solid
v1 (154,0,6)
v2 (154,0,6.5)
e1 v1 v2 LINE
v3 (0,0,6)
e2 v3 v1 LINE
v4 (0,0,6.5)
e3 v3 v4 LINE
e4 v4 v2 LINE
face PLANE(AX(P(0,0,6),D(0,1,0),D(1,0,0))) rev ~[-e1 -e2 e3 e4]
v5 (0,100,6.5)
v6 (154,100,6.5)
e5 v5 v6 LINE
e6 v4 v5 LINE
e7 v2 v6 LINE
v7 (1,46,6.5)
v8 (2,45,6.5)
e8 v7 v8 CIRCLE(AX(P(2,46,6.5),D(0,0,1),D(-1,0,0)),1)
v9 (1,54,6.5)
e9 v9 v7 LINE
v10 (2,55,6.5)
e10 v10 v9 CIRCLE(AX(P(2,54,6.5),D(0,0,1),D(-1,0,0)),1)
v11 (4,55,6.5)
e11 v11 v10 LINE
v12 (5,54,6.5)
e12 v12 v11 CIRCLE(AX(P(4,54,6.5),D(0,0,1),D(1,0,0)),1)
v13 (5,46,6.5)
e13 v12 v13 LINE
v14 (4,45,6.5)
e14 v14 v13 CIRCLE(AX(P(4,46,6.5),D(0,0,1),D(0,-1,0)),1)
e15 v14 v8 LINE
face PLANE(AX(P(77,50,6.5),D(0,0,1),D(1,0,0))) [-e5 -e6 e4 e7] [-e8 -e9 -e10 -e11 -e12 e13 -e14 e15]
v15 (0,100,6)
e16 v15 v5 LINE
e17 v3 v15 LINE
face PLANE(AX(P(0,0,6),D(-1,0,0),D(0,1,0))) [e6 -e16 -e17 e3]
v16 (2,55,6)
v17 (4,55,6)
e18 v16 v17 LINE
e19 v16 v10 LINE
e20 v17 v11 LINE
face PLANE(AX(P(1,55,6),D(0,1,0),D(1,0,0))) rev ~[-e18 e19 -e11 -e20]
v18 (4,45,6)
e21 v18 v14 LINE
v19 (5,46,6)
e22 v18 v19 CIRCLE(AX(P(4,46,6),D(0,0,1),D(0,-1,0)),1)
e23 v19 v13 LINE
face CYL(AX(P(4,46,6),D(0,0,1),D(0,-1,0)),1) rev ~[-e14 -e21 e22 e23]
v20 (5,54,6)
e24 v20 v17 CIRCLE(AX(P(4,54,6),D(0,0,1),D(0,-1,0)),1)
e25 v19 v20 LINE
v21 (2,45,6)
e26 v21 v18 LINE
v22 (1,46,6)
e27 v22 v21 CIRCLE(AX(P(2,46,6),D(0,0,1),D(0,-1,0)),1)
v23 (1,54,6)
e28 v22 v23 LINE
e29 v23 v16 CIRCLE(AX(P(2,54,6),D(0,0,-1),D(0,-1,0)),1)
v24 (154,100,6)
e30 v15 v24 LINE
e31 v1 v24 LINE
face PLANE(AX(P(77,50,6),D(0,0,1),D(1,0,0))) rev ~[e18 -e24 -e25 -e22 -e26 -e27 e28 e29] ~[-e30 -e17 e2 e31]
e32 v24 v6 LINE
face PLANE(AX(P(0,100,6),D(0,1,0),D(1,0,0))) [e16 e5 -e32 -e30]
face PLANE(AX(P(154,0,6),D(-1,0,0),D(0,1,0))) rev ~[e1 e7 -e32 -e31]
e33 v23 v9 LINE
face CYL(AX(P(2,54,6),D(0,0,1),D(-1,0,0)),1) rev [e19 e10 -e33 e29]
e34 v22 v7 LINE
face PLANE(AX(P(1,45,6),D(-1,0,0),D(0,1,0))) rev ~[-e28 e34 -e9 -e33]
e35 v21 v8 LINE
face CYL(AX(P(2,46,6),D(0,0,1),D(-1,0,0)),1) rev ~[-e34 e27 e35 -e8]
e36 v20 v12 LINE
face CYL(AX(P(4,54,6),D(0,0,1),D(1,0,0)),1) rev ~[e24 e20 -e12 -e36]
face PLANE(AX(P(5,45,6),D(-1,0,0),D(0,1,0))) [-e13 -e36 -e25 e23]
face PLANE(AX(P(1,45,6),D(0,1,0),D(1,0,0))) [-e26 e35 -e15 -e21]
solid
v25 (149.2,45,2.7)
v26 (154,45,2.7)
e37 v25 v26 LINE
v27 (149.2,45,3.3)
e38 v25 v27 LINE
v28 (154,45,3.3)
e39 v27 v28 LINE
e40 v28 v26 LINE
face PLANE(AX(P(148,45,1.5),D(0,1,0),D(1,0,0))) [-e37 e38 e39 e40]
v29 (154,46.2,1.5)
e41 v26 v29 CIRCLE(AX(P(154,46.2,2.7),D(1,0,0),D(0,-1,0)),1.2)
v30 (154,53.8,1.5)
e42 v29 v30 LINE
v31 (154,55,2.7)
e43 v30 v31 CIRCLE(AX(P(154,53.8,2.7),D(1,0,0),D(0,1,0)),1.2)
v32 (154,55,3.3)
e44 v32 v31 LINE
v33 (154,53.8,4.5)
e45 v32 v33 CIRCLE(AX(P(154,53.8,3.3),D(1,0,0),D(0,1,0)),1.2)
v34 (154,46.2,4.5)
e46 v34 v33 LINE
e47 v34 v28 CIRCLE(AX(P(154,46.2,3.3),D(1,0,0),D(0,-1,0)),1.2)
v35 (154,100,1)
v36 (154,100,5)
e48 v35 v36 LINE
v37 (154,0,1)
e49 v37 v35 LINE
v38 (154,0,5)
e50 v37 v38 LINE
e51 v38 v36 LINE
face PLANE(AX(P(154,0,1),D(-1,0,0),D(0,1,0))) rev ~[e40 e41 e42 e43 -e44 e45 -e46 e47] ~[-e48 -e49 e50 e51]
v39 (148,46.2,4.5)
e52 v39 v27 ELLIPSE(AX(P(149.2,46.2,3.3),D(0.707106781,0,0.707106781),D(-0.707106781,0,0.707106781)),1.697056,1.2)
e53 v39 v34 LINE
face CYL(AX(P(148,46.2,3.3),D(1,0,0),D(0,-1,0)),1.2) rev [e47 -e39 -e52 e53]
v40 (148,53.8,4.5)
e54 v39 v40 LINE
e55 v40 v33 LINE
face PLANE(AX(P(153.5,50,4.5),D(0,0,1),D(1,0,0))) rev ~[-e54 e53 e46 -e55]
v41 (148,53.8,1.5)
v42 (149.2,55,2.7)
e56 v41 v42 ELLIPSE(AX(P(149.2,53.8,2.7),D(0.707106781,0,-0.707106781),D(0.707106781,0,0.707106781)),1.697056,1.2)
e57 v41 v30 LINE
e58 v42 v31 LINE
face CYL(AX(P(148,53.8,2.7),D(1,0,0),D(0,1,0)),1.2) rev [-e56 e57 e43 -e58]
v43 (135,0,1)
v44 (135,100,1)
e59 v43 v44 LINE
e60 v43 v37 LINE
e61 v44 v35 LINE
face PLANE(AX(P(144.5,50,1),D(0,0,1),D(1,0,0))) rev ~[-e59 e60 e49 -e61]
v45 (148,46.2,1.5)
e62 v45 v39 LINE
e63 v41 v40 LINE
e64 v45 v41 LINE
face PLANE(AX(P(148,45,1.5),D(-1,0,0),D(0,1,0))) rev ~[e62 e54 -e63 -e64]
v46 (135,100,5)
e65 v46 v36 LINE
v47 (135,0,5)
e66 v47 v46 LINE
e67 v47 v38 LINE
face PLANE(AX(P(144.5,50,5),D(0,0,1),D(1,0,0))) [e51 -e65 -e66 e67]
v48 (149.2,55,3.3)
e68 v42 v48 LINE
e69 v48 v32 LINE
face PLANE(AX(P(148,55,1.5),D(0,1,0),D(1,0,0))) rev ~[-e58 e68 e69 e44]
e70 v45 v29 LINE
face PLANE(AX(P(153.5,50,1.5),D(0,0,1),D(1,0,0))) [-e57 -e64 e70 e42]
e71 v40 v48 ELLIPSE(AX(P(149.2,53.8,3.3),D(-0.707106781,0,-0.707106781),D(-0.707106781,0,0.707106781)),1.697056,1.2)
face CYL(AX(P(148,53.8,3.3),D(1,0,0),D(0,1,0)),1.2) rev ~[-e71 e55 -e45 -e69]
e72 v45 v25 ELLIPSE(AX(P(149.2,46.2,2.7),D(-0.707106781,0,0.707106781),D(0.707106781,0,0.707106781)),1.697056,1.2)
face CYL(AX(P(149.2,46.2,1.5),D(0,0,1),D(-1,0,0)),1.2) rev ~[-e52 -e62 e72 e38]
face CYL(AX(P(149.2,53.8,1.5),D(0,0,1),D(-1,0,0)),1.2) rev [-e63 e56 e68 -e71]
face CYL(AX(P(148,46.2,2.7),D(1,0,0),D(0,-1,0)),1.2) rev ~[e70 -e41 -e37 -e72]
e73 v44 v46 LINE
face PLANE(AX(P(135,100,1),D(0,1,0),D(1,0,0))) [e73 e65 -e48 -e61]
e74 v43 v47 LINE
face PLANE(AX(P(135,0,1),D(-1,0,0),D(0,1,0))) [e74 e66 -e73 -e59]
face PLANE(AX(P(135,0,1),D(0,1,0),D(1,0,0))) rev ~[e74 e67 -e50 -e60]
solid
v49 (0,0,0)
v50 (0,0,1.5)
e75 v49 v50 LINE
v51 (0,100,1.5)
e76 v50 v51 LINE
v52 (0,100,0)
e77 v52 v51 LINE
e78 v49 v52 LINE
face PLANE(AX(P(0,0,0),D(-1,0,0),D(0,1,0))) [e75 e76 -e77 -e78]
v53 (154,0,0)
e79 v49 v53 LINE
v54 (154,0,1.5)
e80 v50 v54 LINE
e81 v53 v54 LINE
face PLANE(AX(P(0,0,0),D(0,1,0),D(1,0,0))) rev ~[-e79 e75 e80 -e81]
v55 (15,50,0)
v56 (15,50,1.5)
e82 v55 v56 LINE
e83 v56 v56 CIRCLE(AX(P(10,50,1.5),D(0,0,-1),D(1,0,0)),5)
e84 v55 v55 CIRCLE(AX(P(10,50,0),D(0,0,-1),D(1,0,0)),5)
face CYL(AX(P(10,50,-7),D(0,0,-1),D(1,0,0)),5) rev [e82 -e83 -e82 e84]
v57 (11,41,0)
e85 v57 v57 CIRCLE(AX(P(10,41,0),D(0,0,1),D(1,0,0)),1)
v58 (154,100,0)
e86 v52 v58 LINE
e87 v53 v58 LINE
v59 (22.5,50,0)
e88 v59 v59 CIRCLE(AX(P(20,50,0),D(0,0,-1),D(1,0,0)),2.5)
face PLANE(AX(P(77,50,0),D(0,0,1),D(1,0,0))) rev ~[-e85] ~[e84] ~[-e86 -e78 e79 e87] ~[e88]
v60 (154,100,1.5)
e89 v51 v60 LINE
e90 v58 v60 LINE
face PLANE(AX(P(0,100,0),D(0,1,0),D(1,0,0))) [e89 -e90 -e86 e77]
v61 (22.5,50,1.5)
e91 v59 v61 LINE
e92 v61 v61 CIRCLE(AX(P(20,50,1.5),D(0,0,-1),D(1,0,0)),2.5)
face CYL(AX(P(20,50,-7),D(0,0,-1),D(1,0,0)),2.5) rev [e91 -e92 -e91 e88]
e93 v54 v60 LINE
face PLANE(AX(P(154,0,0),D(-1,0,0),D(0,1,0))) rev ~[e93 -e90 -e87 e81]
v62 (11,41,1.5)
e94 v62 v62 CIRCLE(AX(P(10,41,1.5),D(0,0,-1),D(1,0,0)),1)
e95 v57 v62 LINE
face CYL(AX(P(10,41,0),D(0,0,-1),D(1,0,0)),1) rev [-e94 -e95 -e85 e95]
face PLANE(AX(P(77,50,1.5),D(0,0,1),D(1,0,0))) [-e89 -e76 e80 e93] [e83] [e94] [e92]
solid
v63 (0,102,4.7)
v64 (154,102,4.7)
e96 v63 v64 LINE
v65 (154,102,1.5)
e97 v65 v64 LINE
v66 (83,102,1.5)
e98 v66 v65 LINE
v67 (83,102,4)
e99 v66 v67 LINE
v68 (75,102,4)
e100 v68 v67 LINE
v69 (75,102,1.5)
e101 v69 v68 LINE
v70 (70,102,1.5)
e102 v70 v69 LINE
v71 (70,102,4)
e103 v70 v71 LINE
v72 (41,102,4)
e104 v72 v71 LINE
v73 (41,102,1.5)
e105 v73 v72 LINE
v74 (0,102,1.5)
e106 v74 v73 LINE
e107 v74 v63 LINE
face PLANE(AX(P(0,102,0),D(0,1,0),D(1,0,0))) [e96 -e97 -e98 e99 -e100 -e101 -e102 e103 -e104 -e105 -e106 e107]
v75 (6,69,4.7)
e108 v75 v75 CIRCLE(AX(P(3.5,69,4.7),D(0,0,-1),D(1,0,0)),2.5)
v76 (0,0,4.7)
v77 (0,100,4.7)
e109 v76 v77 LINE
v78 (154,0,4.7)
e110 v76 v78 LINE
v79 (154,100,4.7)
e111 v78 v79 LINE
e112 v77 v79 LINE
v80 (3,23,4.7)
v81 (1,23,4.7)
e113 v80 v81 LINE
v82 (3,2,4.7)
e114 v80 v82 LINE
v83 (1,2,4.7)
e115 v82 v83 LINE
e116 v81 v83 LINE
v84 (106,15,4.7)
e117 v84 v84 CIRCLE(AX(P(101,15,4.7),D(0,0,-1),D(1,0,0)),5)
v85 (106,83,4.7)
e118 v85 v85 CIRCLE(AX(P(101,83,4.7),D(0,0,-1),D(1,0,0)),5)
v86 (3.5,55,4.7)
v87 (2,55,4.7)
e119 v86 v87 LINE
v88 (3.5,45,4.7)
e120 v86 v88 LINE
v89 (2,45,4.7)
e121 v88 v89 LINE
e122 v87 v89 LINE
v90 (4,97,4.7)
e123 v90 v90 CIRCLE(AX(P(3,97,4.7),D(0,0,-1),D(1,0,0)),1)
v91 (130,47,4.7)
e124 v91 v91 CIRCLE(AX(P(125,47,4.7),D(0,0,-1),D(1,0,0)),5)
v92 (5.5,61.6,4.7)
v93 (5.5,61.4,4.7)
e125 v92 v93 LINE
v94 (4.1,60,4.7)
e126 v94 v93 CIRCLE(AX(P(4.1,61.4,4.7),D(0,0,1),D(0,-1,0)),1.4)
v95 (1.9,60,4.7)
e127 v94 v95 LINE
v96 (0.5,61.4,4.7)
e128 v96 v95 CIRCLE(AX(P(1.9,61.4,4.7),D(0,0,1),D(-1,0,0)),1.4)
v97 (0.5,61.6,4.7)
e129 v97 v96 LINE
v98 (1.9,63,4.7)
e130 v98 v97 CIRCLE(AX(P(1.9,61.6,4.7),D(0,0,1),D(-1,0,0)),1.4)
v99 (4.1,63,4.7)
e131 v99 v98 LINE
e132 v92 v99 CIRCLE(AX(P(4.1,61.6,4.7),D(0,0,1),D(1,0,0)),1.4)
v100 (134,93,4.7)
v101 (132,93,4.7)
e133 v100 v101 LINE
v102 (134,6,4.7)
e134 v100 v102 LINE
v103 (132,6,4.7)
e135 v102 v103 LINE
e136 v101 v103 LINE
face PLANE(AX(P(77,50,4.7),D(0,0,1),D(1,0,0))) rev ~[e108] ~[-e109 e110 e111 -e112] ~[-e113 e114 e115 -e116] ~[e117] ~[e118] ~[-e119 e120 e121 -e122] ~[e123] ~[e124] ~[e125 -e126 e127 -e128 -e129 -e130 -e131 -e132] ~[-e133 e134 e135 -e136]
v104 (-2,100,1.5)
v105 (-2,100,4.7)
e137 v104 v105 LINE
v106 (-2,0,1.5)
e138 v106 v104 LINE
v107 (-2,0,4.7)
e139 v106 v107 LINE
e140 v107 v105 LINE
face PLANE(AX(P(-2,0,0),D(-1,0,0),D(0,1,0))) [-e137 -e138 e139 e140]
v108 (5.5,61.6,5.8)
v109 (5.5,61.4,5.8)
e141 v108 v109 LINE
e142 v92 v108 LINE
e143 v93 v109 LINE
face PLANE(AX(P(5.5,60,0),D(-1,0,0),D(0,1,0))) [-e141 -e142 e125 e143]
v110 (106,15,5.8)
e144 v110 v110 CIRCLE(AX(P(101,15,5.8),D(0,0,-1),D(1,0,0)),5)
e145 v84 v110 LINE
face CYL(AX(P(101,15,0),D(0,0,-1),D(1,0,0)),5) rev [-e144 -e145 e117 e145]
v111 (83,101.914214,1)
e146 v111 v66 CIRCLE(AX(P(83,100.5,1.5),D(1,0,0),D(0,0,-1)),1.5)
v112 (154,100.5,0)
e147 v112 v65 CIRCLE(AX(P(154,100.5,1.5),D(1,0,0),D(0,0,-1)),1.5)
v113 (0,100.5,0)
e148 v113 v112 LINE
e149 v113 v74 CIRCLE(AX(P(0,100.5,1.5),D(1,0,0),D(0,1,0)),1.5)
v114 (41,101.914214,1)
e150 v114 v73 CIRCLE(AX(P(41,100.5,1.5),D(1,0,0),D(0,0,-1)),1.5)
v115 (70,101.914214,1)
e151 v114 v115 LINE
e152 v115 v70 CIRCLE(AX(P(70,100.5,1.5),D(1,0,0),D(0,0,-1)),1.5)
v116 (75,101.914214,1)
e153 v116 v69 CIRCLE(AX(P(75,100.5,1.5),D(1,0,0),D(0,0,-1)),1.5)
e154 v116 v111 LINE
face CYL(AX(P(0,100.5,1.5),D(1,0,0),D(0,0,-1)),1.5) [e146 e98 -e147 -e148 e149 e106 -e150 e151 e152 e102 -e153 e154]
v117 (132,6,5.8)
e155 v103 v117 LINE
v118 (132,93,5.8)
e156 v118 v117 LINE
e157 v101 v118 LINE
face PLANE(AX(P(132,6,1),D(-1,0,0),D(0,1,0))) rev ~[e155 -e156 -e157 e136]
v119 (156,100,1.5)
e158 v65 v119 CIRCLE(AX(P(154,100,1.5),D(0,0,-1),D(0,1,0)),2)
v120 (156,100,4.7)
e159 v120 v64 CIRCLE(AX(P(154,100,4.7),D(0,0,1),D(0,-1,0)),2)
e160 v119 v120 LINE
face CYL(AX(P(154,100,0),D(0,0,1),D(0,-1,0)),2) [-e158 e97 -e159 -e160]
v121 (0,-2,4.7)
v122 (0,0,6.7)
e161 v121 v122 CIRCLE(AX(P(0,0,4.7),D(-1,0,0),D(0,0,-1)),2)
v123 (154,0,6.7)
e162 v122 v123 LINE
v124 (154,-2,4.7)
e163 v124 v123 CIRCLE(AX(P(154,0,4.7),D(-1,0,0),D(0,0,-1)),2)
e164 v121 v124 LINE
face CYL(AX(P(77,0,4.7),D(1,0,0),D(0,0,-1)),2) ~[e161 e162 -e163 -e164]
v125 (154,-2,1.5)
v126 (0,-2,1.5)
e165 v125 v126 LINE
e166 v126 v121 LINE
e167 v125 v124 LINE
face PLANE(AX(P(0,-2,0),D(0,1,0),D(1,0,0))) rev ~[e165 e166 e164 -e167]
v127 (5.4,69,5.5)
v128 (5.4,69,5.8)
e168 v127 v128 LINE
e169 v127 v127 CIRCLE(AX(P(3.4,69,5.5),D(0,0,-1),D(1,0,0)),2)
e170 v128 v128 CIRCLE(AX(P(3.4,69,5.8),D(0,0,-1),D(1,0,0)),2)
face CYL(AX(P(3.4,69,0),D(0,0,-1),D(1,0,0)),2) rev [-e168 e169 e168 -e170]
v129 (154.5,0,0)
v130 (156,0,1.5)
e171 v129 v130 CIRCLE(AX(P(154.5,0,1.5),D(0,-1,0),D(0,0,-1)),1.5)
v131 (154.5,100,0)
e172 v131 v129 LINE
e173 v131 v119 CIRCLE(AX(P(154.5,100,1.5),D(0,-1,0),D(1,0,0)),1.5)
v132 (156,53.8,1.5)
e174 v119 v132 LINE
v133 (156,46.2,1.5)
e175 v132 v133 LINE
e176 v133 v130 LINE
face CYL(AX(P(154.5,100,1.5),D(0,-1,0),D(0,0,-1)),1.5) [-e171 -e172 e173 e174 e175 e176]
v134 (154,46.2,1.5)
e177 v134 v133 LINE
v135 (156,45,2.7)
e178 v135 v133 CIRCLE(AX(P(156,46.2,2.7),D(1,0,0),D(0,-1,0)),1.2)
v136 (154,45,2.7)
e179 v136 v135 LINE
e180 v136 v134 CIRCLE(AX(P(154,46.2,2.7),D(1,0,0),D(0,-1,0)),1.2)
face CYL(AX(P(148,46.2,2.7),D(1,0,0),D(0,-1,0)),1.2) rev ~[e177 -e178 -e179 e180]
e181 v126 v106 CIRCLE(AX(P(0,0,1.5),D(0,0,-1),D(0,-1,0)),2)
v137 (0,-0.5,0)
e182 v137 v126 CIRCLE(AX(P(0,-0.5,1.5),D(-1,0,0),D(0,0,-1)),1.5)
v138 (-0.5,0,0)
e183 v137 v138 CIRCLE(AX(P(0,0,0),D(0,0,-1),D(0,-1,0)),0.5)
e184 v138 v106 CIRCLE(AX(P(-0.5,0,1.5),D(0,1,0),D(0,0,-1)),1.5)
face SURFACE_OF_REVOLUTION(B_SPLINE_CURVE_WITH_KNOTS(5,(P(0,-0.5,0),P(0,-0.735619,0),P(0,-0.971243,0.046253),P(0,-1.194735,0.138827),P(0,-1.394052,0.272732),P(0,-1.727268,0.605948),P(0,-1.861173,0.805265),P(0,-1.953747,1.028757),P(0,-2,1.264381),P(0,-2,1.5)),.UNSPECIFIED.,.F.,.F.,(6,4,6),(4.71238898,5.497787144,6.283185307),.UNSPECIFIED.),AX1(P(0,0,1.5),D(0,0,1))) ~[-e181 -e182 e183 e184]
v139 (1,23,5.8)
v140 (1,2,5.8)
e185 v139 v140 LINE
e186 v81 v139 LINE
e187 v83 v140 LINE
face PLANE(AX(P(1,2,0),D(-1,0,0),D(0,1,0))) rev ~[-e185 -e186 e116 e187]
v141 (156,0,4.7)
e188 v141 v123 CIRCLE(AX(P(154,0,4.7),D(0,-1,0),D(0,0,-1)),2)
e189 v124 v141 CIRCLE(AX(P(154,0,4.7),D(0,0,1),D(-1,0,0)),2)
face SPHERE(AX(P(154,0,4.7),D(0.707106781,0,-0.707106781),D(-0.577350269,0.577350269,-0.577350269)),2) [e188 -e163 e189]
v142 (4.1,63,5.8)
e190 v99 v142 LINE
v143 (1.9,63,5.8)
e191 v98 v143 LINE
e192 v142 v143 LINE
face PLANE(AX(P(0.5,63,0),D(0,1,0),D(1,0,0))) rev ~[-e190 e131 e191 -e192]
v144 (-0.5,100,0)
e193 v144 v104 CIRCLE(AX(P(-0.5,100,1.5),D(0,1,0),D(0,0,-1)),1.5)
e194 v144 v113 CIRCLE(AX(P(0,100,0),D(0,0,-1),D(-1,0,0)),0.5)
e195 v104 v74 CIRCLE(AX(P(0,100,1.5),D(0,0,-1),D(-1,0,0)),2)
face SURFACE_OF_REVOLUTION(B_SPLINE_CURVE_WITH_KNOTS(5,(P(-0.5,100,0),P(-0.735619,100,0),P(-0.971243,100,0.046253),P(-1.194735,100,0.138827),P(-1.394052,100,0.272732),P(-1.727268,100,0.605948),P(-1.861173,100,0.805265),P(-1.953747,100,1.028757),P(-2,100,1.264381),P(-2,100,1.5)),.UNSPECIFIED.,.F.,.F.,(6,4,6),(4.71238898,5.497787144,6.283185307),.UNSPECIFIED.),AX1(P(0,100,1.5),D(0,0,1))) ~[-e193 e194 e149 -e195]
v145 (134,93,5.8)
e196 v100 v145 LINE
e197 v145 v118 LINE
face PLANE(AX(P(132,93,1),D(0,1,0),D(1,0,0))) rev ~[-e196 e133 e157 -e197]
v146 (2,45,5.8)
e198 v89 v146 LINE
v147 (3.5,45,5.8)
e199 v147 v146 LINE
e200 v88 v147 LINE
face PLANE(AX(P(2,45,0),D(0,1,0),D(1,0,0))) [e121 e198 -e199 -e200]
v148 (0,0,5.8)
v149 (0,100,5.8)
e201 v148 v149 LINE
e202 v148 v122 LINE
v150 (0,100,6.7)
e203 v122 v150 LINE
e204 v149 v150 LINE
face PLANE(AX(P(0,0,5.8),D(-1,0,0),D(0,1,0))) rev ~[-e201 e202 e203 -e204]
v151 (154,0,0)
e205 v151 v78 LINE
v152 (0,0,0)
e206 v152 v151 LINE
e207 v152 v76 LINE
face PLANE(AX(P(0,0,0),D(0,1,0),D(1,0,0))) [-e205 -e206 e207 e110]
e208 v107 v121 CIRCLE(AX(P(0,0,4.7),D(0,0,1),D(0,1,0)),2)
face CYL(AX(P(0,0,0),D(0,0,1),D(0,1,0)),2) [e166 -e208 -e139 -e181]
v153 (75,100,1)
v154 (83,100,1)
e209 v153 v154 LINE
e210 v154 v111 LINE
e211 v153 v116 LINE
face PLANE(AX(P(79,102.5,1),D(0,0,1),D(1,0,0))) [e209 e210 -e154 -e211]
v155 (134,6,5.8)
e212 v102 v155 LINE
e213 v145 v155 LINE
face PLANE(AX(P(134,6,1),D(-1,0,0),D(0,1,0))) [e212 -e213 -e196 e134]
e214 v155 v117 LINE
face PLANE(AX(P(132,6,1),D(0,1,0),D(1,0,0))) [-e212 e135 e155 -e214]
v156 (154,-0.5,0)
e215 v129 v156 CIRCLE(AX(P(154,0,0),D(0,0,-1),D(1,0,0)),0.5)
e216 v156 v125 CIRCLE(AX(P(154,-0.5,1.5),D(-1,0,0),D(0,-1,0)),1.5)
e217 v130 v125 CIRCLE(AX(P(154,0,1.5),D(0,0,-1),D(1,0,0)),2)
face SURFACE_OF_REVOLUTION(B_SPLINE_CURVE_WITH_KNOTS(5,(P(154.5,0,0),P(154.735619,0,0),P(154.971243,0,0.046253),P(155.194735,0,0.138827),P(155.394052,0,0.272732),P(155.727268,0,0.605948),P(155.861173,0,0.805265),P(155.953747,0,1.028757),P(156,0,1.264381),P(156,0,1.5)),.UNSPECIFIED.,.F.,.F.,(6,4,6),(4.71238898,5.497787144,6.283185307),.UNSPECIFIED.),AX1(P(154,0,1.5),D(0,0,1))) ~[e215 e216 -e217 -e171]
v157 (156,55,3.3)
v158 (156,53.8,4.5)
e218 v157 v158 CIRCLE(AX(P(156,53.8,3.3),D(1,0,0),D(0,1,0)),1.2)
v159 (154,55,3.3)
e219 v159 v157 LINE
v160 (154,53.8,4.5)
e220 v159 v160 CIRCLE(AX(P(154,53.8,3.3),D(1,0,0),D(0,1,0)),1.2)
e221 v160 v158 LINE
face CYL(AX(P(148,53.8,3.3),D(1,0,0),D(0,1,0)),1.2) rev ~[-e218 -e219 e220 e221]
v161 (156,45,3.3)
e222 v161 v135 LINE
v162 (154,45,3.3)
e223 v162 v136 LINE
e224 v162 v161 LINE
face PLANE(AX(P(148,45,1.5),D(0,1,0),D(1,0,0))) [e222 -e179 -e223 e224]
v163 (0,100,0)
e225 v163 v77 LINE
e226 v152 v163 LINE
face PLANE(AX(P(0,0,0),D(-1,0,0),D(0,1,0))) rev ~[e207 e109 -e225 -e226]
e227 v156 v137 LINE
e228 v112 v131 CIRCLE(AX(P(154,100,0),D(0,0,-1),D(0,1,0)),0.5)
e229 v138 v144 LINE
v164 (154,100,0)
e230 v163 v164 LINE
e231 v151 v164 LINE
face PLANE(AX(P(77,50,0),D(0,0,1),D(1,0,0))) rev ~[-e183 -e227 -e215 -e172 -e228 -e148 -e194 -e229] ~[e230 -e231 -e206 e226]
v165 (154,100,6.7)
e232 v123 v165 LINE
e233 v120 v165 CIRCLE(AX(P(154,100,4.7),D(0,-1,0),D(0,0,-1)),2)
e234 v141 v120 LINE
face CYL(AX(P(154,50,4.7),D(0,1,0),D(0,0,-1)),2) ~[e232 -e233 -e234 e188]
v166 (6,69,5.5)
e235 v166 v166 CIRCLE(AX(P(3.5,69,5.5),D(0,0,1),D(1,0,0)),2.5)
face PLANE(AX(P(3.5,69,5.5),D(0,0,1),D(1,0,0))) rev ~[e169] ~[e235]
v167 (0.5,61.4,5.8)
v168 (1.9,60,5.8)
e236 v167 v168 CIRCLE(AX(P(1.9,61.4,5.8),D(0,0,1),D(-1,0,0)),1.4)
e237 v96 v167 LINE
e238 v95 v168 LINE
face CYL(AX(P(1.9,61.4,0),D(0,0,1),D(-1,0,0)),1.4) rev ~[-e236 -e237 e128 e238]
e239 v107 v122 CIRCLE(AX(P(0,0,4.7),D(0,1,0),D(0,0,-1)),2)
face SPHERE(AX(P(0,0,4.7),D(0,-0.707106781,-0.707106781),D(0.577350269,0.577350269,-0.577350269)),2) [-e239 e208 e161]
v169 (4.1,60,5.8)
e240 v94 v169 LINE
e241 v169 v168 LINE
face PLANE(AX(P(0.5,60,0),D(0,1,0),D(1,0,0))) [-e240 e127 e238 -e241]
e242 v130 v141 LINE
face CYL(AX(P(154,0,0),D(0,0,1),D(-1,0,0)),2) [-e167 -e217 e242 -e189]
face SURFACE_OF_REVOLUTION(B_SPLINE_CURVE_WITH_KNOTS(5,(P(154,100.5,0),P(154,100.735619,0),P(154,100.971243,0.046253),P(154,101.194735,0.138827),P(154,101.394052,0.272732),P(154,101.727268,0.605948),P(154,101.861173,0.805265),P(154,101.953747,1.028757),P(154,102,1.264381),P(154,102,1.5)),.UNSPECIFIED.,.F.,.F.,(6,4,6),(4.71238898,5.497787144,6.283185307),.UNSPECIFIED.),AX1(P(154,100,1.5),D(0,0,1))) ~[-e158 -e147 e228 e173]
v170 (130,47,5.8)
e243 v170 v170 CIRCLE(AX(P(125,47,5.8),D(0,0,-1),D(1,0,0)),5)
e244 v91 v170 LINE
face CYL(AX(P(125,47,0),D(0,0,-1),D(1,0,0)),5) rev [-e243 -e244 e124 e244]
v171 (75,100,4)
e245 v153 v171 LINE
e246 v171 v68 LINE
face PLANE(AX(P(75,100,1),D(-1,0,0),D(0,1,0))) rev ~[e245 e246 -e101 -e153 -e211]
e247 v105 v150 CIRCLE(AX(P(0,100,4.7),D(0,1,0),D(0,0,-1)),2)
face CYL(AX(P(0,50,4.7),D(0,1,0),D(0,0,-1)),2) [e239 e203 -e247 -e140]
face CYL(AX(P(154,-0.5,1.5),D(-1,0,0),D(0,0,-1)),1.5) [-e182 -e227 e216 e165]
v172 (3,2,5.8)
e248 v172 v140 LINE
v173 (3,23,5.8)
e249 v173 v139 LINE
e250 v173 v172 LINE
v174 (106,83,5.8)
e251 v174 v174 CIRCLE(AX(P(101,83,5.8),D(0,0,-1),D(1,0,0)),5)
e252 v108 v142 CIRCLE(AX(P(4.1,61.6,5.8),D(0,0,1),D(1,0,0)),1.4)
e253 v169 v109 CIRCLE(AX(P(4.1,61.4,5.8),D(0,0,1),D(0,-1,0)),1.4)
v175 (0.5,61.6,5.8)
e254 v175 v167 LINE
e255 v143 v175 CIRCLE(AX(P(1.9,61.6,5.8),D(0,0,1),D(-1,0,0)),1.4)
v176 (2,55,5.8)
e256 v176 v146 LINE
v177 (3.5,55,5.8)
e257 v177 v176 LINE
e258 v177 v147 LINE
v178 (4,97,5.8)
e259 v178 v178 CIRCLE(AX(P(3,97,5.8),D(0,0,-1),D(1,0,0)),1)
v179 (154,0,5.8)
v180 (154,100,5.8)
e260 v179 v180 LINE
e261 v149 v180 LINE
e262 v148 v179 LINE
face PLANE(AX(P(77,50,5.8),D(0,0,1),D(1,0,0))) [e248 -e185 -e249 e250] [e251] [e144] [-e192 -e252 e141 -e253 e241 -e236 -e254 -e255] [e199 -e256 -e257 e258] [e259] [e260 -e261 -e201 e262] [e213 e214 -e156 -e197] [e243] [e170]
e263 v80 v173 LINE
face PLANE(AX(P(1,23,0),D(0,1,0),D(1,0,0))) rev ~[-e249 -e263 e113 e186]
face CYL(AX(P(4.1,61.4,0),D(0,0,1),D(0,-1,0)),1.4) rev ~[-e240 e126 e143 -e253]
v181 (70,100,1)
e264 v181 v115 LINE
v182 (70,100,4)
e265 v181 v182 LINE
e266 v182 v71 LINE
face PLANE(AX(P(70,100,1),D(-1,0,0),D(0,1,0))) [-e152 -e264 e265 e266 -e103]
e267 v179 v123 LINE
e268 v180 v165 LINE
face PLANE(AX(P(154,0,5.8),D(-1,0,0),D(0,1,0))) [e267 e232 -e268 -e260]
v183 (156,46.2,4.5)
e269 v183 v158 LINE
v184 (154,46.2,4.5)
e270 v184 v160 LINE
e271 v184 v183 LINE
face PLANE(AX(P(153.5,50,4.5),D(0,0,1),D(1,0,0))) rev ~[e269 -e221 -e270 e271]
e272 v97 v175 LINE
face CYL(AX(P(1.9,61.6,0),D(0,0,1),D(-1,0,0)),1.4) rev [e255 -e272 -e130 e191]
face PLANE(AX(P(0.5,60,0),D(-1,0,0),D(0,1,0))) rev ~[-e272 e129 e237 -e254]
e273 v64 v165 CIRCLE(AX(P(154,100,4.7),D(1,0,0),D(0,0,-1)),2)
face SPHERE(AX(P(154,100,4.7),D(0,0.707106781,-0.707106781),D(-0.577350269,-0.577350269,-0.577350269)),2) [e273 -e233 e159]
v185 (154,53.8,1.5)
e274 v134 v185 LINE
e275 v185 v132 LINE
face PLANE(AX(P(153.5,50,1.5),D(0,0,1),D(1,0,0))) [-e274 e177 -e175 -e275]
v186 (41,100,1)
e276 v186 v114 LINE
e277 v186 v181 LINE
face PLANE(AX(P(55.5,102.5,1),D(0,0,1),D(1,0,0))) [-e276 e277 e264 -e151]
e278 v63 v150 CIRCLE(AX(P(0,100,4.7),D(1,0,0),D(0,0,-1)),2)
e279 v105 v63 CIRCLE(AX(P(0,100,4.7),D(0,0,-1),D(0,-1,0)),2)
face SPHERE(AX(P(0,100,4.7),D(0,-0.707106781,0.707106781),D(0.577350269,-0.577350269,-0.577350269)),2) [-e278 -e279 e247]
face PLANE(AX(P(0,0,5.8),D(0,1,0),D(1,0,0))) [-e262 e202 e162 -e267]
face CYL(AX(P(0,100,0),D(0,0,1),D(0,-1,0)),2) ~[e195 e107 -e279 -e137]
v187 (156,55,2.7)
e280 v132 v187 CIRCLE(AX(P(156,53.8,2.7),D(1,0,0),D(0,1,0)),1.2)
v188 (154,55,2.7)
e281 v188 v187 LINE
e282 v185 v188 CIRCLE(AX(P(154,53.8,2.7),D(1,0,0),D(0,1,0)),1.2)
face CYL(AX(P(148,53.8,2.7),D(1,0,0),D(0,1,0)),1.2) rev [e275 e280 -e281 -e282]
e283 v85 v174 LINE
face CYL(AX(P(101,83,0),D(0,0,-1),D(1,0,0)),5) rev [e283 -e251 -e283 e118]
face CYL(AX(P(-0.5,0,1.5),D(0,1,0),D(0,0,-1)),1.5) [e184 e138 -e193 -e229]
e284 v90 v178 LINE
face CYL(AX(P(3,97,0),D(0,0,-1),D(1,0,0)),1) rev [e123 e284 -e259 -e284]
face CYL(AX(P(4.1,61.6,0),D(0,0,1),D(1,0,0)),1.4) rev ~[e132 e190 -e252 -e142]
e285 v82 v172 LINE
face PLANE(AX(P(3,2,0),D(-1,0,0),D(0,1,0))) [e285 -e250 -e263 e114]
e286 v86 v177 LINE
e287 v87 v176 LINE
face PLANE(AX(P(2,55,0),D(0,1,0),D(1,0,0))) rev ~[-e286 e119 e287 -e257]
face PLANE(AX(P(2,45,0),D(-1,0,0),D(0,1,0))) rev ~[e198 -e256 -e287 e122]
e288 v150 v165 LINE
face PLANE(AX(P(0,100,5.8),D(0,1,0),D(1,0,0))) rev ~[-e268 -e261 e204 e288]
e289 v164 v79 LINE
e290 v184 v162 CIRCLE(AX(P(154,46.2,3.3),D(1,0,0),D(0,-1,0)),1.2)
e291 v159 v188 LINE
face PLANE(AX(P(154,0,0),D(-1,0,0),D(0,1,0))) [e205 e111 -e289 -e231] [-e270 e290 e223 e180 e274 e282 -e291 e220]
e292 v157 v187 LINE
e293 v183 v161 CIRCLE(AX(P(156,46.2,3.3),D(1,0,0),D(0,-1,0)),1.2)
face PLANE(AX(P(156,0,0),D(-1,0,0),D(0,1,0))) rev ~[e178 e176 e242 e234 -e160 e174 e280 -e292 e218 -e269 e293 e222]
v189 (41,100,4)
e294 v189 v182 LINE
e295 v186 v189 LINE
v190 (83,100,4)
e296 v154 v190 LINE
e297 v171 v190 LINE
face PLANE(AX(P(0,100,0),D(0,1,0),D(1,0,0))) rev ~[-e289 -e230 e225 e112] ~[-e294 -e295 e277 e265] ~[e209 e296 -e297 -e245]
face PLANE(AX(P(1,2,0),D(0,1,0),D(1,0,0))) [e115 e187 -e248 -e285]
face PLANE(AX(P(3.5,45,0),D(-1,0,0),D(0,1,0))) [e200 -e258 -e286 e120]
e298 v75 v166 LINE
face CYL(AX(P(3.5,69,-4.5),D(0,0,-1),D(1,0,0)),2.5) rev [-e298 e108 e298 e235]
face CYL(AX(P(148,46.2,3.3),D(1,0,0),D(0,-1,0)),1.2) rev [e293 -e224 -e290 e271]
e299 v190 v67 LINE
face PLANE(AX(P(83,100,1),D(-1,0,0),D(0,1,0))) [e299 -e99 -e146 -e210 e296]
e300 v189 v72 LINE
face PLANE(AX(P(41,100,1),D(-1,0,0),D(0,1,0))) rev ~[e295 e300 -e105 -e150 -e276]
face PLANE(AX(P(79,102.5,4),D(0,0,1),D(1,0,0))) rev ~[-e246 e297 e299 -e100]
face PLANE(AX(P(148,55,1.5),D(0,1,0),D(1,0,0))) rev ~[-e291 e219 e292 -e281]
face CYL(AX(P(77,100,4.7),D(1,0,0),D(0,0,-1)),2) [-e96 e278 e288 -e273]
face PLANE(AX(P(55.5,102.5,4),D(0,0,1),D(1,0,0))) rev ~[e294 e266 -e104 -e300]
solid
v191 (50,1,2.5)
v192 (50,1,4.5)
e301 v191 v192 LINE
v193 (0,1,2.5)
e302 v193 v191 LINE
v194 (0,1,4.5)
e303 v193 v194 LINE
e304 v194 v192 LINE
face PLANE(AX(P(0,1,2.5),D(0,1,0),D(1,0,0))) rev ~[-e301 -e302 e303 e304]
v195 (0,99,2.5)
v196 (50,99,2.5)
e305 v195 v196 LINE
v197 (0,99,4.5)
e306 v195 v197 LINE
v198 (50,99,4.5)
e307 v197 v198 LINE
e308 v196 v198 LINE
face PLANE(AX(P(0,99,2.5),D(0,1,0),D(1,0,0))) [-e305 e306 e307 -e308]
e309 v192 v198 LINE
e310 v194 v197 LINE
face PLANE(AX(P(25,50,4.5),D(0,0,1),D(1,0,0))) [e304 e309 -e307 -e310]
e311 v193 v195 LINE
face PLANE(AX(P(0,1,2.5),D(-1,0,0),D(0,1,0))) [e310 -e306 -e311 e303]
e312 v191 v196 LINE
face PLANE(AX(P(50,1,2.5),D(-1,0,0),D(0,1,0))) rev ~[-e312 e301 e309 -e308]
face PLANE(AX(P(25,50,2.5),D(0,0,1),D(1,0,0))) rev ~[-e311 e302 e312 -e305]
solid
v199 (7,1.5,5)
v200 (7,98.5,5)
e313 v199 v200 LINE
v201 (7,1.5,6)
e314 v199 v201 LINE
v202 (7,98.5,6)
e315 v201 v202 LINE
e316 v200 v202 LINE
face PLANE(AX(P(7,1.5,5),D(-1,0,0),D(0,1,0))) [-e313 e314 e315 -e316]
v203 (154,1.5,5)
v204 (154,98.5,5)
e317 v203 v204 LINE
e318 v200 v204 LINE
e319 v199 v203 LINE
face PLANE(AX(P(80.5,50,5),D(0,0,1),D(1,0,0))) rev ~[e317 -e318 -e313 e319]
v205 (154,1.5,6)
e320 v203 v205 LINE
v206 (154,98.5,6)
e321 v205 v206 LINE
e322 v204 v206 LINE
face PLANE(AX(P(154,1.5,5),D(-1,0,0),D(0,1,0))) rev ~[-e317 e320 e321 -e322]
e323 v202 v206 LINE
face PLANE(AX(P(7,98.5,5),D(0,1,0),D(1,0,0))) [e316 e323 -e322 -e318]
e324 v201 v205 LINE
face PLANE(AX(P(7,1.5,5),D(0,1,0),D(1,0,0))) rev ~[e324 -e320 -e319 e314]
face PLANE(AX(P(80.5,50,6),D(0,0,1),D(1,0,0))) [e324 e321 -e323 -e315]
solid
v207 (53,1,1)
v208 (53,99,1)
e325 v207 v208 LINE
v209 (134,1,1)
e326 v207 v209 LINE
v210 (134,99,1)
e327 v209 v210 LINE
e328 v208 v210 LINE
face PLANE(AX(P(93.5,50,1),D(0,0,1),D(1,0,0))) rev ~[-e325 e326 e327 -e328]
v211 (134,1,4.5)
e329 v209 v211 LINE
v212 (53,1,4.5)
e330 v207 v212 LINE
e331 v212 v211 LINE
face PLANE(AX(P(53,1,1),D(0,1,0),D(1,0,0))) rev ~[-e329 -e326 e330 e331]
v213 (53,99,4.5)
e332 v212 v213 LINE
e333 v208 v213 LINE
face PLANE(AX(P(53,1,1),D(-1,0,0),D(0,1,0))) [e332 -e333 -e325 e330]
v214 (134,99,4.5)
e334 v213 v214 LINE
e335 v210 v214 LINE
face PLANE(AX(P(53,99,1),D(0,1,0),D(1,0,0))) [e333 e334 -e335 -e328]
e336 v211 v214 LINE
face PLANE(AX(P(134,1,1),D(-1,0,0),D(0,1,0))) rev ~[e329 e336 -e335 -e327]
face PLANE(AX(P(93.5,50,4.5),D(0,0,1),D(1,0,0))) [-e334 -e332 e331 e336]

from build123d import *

# Parameters (mm, degrees)
BOX005_W          = 147
BOX005_H          = 97
BOX005_DEPTH      = 1
CYLINDER008_R     = 1
CYLINDER008_DEPTH = 10
CYLINDER006_R     = 5
CYLINDER006_DEPTH = 10
CYLINDER007_R     = 2.5
CYLINDER007_DEPTH = 10
BOX008_W          = 154
BOX008_H          = 100
BOX008_DEPTH      = 1.5
BOX007_W          = 4
BOX007_H          = 10
BOX007_DEPTH      = 10
FILLET001_R       = 1
BOX006_W          = 154
BOX006_H          = 100
BOX006_DEPTH      = 0.5
BOX011_W          = 50
BOX011_H          = 98
BOX011_DEPTH      = 2
BOX012_W          = 81
BOX012_H          = 98
BOX012_DEPTH      = 3.5
BOX015_W          = 11
BOX015_H          = 10
BOX015_DEPTH      = 3
FILLET003_R       = 1.2
BOX014_W          = 2
BOX014_H          = 87
BOX014_DEPTH      = 10
BOX010_W          = 29
BOX010_H          = 5
BOX010_DEPTH      = 3
BOX009_W          = 8
BOX009_H          = 5
BOX009_DEPTH      = 3
BOX004_W          = 5
BOX004_H          = 3
BOX004_DEPTH      = 10
FILLET_R          = 1.4
CYLINDER005_R     = 2.5
CYLINDER005_DEPTH = 10
CYLINDER004_R     = 2
CYLINDER004_DEPTH = 10
CYLINDER003_R     = 1
CYLINDER003_DEPTH = 10
BOX003_W          = 1.5
BOX003_H          = 10
BOX003_DEPTH      = 14
BOX002_W          = 2
BOX002_H          = 21
BOX002_DEPTH      = 10
CYLINDER002_R     = 5
CYLINDER002_DEPTH = 10
CYLINDER001_R     = 5
CYLINDER001_DEPTH = 10
CYLINDER_R        = 5
CYLINDER_DEPTH    = 10
BOX001_W          = 154
BOX001_H          = 100
BOX001_DEPTH      = 10
BOX_W             = 154
BOX_H             = 100
BOX_DEPTH         = 4.7
THICKNESS_T       = 2
FILLET002_R       = 1.5
BOX013_W          = 19
BOX013_H          = 100
BOX013_DEPTH      = 4


with BuildPart() as pantalla:
    # Box005 → Box005 (new body)
    with BuildSketch(Plane(origin=(7, 1.5, 5), x_dir=(1, 0, 0), z_dir=(0, 0, 1))):
        with Locations((73.5, 48.5)):
            Rectangle(BOX005_W, BOX005_H)
    extrude(amount=BOX005_DEPTH)


with BuildPart() as cilindro008:
    # Cylinder008 → Cylinder008 (new body)
    with BuildSketch(Plane(origin=(10, 41, 0), x_dir=(1, 0, 0), z_dir=(0, 0, 1))):
        Circle(CYLINDER008_R)
    extrude(amount=CYLINDER008_DEPTH)


with BuildPart() as cilindro006:
    # Cylinder006 → Cylinder006 (new body)
    with BuildSketch(Plane(origin=(10, 50, -7), x_dir=(1, 0, 0), z_dir=(0, 0, 1))):
        Circle(CYLINDER006_R)
    extrude(amount=CYLINDER006_DEPTH)


with BuildPart() as cilindro007:
    # Cylinder007 → Cylinder007 (new body)
    with BuildSketch(Plane(origin=(20, 50, -7), x_dir=(1, 0, 0), z_dir=(0, 0, 1))):
        Circle(CYLINDER007_R)
    extrude(amount=CYLINDER007_DEPTH)


with BuildPart() as trasera001:
    # Box008 → Box008 (new body)
    with BuildSketch(Plane.XY):
        with Locations((77, 50)):
            Rectangle(BOX008_W, BOX008_H)
    extrude(amount=BOX008_DEPTH)

    # Cut014: cut Cilindro007
    add(cilindro007.part, mode=Mode.SUBTRACT)

    # Cut015: cut Cilindro006
    add(cilindro006.part, mode=Mode.SUBTRACT)

    # Cut016: cut Cilindro008
    add(cilindro008.part, mode=Mode.SUBTRACT)


with BuildPart() as fillet001:
    # Box007 → Box007 (new body)
    with BuildSketch(Plane(origin=(1, 45, 6), x_dir=(1, 0, 0), z_dir=(0, 0, 1))):
        with Locations((2, 5)):
            Rectangle(BOX007_W, BOX007_H)
    extrude(amount=BOX007_DEPTH)

    # Fillet001
    fillet001_edges = [fillet001.edges().sort_by_distance(p)[0] for p in [
        (1, 45, 11),
        (1, 55, 11),
        (5, 45, 11),
        (5, 55, 11),
    ]]
    fillet(fillet001_edges, radius=FILLET001_R)


with BuildPart() as touch:
    # Box006 → Box006 (new body)
    with BuildSketch(Plane.XY.offset(6)):
        with Locations((77, 50)):
            Rectangle(BOX006_W, BOX006_H)
    extrude(amount=BOX006_DEPTH)

    # Cut019: cut Fillet001
    add(fillet001.part, mode=Mode.SUBTRACT)


with BuildPart() as electronics:
    # Box011 → Box011 (new body)
    with BuildSketch(Plane(origin=(0, 1, 2.5), x_dir=(1, 0, 0), z_dir=(0, 0, 1))):
        with Locations((25, 49)):
            Rectangle(BOX011_W, BOX011_H)
    extrude(amount=BOX011_DEPTH)


with BuildPart() as battery:
    # Box012 → Box012 (new body)
    with BuildSketch(Plane(origin=(53, 1, 1), x_dir=(1, 0, 0), z_dir=(0, 0, 1))):
        with Locations((40.5, 49)):
            Rectangle(BOX012_W, BOX012_H)
    extrude(amount=BOX012_DEPTH)


with BuildPart() as fillet003:
    # Box015 → Box015 (new body)
    with BuildSketch(Plane(origin=(148, 45, 1.5), x_dir=(1, 0, 0), z_dir=(0, 0, 1))):
        with Locations((5.5, 5)):
            Rectangle(BOX015_W, BOX015_H)
    extrude(amount=BOX015_DEPTH)

    # Fillet003
    fillet003_edges = [fillet003.edges().sort_by_distance(p)[0] for p in [
        (148, 45, 3),
        (148, 55, 3),
        (159, 45, 3),
        (159, 55, 3),
        (153.5, 45, 1.5),
        (153.5, 45, 4.5),
        (153.5, 55, 1.5),
        (153.5, 55, 4.5),
    ]]
    fillet(fillet003_edges, radius=FILLET003_R)


with BuildPart() as cubo010:
    # Box014 → Box014 (new body)
    with BuildSketch(Plane(origin=(132, 6, 1), x_dir=(1, 0, 0), z_dir=(0, 0, 1))):
        with Locations((1, 43.5)):
            Rectangle(BOX014_W, BOX014_H)
    extrude(amount=BOX014_DEPTH)


with BuildPart() as cubo009:
    # Box010 → Box010 (new body)
    with BuildSketch(Plane(origin=(41, 100, 1), x_dir=(1, 0, 0), z_dir=(0, 0, 1))):
        with Locations((14.5, 2.5)):
            Rectangle(BOX010_W, BOX010_H)
    extrude(amount=BOX010_DEPTH)


with BuildPart() as cubo008:
    # Box009 → Box009 (new body)
    with BuildSketch(Plane(origin=(75, 100, 1), x_dir=(1, 0, 0), z_dir=(0, 0, 1))):
        with Locations((4, 2.5)):
            Rectangle(BOX009_W, BOX009_H)
    extrude(amount=BOX009_DEPTH)


with BuildPart() as fillet_body:
    # Box004 → Box004 (new body)
    with BuildSketch(Plane(origin=(0.5, 58, 0), x_dir=(1, 0, 0), z_dir=(0, 0, 1))):
        with Locations((2.5, 1.5)):
            Rectangle(BOX004_W, BOX004_H)
    extrude(amount=BOX004_DEPTH)

    # Fillet
    fillet_edges = [fillet_body.edges().sort_by_distance(p)[0] for p in [
        (0.5, 58, 5),
        (0.5, 61, 5),
        (5.5, 58, 5),
        (5.5, 61, 5),
    ]]
    fillet(fillet_edges, radius=FILLET_R)


with BuildPart() as fillet_body_1:
    # Fillet placement: moved
    add(fillet_body.part.moved(Location((0, 2, 0))))


with BuildPart() as cilindro005:
    # Cylinder005 → Cylinder005 (new body)
    with BuildSketch(Plane(origin=(3.5, 69, -4.5), x_dir=(1, 0, 0), z_dir=(0, 0, 1))):
        Circle(CYLINDER005_R)
    extrude(amount=CYLINDER005_DEPTH)


with BuildPart() as cilindro004:
    # Cylinder004 → Cylinder004 (new body)
    with BuildSketch(Plane(origin=(3.4, 69, 0), x_dir=(1, 0, 0), z_dir=(0, 0, 1))):
        Circle(CYLINDER004_R)
    extrude(amount=CYLINDER004_DEPTH)


with BuildPart() as cilindro003:
    # Cylinder003 → Cylinder003 (new body)
    with BuildSketch(Plane(origin=(3, 97, 0), x_dir=(1, 0, 0), z_dir=(0, 0, 1))):
        Circle(CYLINDER003_R)
    extrude(amount=CYLINDER003_DEPTH)


with BuildPart() as cubo003:
    # Box003 → Box003 (new body)
    with BuildSketch(Plane(origin=(2, 45, 0), x_dir=(1, 0, 0), z_dir=(0, 0, 1))):
        with Locations((0.75, 5)):
            Rectangle(BOX003_W, BOX003_H)
    extrude(amount=BOX003_DEPTH)


with BuildPart() as cubo002:
    # Box002 → Box002 (new body)
    with BuildSketch(Plane(origin=(1, 2, 0), x_dir=(1, 0, 0), z_dir=(0, 0, 1))):
        with Locations((1, 10.5)):
            Rectangle(BOX002_W, BOX002_H)
    extrude(amount=BOX002_DEPTH)


with BuildPart() as cilindro002:
    # Cylinder002 → Cylinder002 (new body)
    with BuildSketch(Plane(origin=(101, 15, 0), x_dir=(1, 0, 0), z_dir=(0, 0, 1))):
        Circle(CYLINDER002_R)
    extrude(amount=CYLINDER002_DEPTH)


with BuildPart() as cilindro001:
    # Cylinder001 → Cylinder001 (new body)
    with BuildSketch(Plane(origin=(101, 83, 0), x_dir=(1, 0, 0), z_dir=(0, 0, 1))):
        Circle(CYLINDER001_R)
    extrude(amount=CYLINDER001_DEPTH)


with BuildPart() as cilindro:
    # Cylinder → Cylinder (new body)
    with BuildSketch(Plane(origin=(125, 47, 0), x_dir=(1, 0, 0), z_dir=(0, 0, 1))):
        Circle(CYLINDER_R)
    extrude(amount=CYLINDER_DEPTH)


with BuildPart() as cubo001:
    # Box001 → Box001 (new body)
    with BuildSketch(Plane.XY.offset(5.8)):
        with Locations((77, 50)):
            Rectangle(BOX001_W, BOX001_H)
    extrude(amount=BOX001_DEPTH)


with BuildPart() as cut021:
    # Box → Box (new body)
    with BuildSketch(Plane.XY):
        with Locations((77, 50)):
            Rectangle(BOX_W, BOX_H)
    extrude(amount=BOX_DEPTH)

    # Thickness
    thickness_openings = [cut021.faces().sort_by_distance(p)[0] for p in [
        (77, 50, 0),
    ]]
    offset(amount=THICKNESS_T, openings=thickness_openings)

    # Cut: cut Cubo001
    add(cubo001.part, mode=Mode.SUBTRACT)

    # Cut001: cut Cilindro
    add(cilindro.part, mode=Mode.SUBTRACT)

    # Cut002: cut Cilindro001
    add(cilindro001.part, mode=Mode.SUBTRACT)

    # Cut003: cut Cilindro002
    add(cilindro002.part, mode=Mode.SUBTRACT)

    # Cut004: cut Cubo002
    add(cubo002.part, mode=Mode.SUBTRACT)

    # Cut005: cut Cubo003
    add(cubo003.part, mode=Mode.SUBTRACT)

    # Cut006: cut Cilindro003
    add(cilindro003.part, mode=Mode.SUBTRACT)

    # Cut007: cut Cilindro004
    add(cilindro004.part, mode=Mode.SUBTRACT)

    # Cut008: cut Cilindro005
    add(cilindro005.part, mode=Mode.SUBTRACT)

    # Cut009: cut Fillet body
    add(fillet_body_1.part, mode=Mode.SUBTRACT)

    # Fillet002
    fillet002_edges = [cut021.edges().sort_by_distance(p)[0] for p in [
        (-2, 50, 0),
        (77, -2, 0),
        (156, 50, 0),
        (77, 102, 0),
    ]]
    fillet(fillet002_edges, radius=FILLET002_R)

    # Cut017: cut Cubo008
    add(cubo008.part, mode=Mode.SUBTRACT)

    # Cut018: cut Cubo009
    add(cubo009.part, mode=Mode.SUBTRACT)

    # Cut020: cut Cubo010
    add(cubo010.part, mode=Mode.SUBTRACT)

    # Cut021: cut Fillet003
    add(fillet003.part, mode=Mode.SUBTRACT)


with BuildPart() as cut022:
    # Box013 → Box013 (new body)
    with BuildSketch(Plane(origin=(135, 0, 1), x_dir=(1, 0, 0), z_dir=(0, 0, 1))):
        with Locations((9.5, 50)):
            Rectangle(BOX013_W, BOX013_H)
    extrude(amount=BOX013_DEPTH)

    # Cut022: cut Fillet003
    add(fillet003.part, mode=Mode.SUBTRACT)


solid = Compound([pantalla.part, trasera001.part, touch.part, electronics.part, battery.part, cut021.part, cut022.part])
